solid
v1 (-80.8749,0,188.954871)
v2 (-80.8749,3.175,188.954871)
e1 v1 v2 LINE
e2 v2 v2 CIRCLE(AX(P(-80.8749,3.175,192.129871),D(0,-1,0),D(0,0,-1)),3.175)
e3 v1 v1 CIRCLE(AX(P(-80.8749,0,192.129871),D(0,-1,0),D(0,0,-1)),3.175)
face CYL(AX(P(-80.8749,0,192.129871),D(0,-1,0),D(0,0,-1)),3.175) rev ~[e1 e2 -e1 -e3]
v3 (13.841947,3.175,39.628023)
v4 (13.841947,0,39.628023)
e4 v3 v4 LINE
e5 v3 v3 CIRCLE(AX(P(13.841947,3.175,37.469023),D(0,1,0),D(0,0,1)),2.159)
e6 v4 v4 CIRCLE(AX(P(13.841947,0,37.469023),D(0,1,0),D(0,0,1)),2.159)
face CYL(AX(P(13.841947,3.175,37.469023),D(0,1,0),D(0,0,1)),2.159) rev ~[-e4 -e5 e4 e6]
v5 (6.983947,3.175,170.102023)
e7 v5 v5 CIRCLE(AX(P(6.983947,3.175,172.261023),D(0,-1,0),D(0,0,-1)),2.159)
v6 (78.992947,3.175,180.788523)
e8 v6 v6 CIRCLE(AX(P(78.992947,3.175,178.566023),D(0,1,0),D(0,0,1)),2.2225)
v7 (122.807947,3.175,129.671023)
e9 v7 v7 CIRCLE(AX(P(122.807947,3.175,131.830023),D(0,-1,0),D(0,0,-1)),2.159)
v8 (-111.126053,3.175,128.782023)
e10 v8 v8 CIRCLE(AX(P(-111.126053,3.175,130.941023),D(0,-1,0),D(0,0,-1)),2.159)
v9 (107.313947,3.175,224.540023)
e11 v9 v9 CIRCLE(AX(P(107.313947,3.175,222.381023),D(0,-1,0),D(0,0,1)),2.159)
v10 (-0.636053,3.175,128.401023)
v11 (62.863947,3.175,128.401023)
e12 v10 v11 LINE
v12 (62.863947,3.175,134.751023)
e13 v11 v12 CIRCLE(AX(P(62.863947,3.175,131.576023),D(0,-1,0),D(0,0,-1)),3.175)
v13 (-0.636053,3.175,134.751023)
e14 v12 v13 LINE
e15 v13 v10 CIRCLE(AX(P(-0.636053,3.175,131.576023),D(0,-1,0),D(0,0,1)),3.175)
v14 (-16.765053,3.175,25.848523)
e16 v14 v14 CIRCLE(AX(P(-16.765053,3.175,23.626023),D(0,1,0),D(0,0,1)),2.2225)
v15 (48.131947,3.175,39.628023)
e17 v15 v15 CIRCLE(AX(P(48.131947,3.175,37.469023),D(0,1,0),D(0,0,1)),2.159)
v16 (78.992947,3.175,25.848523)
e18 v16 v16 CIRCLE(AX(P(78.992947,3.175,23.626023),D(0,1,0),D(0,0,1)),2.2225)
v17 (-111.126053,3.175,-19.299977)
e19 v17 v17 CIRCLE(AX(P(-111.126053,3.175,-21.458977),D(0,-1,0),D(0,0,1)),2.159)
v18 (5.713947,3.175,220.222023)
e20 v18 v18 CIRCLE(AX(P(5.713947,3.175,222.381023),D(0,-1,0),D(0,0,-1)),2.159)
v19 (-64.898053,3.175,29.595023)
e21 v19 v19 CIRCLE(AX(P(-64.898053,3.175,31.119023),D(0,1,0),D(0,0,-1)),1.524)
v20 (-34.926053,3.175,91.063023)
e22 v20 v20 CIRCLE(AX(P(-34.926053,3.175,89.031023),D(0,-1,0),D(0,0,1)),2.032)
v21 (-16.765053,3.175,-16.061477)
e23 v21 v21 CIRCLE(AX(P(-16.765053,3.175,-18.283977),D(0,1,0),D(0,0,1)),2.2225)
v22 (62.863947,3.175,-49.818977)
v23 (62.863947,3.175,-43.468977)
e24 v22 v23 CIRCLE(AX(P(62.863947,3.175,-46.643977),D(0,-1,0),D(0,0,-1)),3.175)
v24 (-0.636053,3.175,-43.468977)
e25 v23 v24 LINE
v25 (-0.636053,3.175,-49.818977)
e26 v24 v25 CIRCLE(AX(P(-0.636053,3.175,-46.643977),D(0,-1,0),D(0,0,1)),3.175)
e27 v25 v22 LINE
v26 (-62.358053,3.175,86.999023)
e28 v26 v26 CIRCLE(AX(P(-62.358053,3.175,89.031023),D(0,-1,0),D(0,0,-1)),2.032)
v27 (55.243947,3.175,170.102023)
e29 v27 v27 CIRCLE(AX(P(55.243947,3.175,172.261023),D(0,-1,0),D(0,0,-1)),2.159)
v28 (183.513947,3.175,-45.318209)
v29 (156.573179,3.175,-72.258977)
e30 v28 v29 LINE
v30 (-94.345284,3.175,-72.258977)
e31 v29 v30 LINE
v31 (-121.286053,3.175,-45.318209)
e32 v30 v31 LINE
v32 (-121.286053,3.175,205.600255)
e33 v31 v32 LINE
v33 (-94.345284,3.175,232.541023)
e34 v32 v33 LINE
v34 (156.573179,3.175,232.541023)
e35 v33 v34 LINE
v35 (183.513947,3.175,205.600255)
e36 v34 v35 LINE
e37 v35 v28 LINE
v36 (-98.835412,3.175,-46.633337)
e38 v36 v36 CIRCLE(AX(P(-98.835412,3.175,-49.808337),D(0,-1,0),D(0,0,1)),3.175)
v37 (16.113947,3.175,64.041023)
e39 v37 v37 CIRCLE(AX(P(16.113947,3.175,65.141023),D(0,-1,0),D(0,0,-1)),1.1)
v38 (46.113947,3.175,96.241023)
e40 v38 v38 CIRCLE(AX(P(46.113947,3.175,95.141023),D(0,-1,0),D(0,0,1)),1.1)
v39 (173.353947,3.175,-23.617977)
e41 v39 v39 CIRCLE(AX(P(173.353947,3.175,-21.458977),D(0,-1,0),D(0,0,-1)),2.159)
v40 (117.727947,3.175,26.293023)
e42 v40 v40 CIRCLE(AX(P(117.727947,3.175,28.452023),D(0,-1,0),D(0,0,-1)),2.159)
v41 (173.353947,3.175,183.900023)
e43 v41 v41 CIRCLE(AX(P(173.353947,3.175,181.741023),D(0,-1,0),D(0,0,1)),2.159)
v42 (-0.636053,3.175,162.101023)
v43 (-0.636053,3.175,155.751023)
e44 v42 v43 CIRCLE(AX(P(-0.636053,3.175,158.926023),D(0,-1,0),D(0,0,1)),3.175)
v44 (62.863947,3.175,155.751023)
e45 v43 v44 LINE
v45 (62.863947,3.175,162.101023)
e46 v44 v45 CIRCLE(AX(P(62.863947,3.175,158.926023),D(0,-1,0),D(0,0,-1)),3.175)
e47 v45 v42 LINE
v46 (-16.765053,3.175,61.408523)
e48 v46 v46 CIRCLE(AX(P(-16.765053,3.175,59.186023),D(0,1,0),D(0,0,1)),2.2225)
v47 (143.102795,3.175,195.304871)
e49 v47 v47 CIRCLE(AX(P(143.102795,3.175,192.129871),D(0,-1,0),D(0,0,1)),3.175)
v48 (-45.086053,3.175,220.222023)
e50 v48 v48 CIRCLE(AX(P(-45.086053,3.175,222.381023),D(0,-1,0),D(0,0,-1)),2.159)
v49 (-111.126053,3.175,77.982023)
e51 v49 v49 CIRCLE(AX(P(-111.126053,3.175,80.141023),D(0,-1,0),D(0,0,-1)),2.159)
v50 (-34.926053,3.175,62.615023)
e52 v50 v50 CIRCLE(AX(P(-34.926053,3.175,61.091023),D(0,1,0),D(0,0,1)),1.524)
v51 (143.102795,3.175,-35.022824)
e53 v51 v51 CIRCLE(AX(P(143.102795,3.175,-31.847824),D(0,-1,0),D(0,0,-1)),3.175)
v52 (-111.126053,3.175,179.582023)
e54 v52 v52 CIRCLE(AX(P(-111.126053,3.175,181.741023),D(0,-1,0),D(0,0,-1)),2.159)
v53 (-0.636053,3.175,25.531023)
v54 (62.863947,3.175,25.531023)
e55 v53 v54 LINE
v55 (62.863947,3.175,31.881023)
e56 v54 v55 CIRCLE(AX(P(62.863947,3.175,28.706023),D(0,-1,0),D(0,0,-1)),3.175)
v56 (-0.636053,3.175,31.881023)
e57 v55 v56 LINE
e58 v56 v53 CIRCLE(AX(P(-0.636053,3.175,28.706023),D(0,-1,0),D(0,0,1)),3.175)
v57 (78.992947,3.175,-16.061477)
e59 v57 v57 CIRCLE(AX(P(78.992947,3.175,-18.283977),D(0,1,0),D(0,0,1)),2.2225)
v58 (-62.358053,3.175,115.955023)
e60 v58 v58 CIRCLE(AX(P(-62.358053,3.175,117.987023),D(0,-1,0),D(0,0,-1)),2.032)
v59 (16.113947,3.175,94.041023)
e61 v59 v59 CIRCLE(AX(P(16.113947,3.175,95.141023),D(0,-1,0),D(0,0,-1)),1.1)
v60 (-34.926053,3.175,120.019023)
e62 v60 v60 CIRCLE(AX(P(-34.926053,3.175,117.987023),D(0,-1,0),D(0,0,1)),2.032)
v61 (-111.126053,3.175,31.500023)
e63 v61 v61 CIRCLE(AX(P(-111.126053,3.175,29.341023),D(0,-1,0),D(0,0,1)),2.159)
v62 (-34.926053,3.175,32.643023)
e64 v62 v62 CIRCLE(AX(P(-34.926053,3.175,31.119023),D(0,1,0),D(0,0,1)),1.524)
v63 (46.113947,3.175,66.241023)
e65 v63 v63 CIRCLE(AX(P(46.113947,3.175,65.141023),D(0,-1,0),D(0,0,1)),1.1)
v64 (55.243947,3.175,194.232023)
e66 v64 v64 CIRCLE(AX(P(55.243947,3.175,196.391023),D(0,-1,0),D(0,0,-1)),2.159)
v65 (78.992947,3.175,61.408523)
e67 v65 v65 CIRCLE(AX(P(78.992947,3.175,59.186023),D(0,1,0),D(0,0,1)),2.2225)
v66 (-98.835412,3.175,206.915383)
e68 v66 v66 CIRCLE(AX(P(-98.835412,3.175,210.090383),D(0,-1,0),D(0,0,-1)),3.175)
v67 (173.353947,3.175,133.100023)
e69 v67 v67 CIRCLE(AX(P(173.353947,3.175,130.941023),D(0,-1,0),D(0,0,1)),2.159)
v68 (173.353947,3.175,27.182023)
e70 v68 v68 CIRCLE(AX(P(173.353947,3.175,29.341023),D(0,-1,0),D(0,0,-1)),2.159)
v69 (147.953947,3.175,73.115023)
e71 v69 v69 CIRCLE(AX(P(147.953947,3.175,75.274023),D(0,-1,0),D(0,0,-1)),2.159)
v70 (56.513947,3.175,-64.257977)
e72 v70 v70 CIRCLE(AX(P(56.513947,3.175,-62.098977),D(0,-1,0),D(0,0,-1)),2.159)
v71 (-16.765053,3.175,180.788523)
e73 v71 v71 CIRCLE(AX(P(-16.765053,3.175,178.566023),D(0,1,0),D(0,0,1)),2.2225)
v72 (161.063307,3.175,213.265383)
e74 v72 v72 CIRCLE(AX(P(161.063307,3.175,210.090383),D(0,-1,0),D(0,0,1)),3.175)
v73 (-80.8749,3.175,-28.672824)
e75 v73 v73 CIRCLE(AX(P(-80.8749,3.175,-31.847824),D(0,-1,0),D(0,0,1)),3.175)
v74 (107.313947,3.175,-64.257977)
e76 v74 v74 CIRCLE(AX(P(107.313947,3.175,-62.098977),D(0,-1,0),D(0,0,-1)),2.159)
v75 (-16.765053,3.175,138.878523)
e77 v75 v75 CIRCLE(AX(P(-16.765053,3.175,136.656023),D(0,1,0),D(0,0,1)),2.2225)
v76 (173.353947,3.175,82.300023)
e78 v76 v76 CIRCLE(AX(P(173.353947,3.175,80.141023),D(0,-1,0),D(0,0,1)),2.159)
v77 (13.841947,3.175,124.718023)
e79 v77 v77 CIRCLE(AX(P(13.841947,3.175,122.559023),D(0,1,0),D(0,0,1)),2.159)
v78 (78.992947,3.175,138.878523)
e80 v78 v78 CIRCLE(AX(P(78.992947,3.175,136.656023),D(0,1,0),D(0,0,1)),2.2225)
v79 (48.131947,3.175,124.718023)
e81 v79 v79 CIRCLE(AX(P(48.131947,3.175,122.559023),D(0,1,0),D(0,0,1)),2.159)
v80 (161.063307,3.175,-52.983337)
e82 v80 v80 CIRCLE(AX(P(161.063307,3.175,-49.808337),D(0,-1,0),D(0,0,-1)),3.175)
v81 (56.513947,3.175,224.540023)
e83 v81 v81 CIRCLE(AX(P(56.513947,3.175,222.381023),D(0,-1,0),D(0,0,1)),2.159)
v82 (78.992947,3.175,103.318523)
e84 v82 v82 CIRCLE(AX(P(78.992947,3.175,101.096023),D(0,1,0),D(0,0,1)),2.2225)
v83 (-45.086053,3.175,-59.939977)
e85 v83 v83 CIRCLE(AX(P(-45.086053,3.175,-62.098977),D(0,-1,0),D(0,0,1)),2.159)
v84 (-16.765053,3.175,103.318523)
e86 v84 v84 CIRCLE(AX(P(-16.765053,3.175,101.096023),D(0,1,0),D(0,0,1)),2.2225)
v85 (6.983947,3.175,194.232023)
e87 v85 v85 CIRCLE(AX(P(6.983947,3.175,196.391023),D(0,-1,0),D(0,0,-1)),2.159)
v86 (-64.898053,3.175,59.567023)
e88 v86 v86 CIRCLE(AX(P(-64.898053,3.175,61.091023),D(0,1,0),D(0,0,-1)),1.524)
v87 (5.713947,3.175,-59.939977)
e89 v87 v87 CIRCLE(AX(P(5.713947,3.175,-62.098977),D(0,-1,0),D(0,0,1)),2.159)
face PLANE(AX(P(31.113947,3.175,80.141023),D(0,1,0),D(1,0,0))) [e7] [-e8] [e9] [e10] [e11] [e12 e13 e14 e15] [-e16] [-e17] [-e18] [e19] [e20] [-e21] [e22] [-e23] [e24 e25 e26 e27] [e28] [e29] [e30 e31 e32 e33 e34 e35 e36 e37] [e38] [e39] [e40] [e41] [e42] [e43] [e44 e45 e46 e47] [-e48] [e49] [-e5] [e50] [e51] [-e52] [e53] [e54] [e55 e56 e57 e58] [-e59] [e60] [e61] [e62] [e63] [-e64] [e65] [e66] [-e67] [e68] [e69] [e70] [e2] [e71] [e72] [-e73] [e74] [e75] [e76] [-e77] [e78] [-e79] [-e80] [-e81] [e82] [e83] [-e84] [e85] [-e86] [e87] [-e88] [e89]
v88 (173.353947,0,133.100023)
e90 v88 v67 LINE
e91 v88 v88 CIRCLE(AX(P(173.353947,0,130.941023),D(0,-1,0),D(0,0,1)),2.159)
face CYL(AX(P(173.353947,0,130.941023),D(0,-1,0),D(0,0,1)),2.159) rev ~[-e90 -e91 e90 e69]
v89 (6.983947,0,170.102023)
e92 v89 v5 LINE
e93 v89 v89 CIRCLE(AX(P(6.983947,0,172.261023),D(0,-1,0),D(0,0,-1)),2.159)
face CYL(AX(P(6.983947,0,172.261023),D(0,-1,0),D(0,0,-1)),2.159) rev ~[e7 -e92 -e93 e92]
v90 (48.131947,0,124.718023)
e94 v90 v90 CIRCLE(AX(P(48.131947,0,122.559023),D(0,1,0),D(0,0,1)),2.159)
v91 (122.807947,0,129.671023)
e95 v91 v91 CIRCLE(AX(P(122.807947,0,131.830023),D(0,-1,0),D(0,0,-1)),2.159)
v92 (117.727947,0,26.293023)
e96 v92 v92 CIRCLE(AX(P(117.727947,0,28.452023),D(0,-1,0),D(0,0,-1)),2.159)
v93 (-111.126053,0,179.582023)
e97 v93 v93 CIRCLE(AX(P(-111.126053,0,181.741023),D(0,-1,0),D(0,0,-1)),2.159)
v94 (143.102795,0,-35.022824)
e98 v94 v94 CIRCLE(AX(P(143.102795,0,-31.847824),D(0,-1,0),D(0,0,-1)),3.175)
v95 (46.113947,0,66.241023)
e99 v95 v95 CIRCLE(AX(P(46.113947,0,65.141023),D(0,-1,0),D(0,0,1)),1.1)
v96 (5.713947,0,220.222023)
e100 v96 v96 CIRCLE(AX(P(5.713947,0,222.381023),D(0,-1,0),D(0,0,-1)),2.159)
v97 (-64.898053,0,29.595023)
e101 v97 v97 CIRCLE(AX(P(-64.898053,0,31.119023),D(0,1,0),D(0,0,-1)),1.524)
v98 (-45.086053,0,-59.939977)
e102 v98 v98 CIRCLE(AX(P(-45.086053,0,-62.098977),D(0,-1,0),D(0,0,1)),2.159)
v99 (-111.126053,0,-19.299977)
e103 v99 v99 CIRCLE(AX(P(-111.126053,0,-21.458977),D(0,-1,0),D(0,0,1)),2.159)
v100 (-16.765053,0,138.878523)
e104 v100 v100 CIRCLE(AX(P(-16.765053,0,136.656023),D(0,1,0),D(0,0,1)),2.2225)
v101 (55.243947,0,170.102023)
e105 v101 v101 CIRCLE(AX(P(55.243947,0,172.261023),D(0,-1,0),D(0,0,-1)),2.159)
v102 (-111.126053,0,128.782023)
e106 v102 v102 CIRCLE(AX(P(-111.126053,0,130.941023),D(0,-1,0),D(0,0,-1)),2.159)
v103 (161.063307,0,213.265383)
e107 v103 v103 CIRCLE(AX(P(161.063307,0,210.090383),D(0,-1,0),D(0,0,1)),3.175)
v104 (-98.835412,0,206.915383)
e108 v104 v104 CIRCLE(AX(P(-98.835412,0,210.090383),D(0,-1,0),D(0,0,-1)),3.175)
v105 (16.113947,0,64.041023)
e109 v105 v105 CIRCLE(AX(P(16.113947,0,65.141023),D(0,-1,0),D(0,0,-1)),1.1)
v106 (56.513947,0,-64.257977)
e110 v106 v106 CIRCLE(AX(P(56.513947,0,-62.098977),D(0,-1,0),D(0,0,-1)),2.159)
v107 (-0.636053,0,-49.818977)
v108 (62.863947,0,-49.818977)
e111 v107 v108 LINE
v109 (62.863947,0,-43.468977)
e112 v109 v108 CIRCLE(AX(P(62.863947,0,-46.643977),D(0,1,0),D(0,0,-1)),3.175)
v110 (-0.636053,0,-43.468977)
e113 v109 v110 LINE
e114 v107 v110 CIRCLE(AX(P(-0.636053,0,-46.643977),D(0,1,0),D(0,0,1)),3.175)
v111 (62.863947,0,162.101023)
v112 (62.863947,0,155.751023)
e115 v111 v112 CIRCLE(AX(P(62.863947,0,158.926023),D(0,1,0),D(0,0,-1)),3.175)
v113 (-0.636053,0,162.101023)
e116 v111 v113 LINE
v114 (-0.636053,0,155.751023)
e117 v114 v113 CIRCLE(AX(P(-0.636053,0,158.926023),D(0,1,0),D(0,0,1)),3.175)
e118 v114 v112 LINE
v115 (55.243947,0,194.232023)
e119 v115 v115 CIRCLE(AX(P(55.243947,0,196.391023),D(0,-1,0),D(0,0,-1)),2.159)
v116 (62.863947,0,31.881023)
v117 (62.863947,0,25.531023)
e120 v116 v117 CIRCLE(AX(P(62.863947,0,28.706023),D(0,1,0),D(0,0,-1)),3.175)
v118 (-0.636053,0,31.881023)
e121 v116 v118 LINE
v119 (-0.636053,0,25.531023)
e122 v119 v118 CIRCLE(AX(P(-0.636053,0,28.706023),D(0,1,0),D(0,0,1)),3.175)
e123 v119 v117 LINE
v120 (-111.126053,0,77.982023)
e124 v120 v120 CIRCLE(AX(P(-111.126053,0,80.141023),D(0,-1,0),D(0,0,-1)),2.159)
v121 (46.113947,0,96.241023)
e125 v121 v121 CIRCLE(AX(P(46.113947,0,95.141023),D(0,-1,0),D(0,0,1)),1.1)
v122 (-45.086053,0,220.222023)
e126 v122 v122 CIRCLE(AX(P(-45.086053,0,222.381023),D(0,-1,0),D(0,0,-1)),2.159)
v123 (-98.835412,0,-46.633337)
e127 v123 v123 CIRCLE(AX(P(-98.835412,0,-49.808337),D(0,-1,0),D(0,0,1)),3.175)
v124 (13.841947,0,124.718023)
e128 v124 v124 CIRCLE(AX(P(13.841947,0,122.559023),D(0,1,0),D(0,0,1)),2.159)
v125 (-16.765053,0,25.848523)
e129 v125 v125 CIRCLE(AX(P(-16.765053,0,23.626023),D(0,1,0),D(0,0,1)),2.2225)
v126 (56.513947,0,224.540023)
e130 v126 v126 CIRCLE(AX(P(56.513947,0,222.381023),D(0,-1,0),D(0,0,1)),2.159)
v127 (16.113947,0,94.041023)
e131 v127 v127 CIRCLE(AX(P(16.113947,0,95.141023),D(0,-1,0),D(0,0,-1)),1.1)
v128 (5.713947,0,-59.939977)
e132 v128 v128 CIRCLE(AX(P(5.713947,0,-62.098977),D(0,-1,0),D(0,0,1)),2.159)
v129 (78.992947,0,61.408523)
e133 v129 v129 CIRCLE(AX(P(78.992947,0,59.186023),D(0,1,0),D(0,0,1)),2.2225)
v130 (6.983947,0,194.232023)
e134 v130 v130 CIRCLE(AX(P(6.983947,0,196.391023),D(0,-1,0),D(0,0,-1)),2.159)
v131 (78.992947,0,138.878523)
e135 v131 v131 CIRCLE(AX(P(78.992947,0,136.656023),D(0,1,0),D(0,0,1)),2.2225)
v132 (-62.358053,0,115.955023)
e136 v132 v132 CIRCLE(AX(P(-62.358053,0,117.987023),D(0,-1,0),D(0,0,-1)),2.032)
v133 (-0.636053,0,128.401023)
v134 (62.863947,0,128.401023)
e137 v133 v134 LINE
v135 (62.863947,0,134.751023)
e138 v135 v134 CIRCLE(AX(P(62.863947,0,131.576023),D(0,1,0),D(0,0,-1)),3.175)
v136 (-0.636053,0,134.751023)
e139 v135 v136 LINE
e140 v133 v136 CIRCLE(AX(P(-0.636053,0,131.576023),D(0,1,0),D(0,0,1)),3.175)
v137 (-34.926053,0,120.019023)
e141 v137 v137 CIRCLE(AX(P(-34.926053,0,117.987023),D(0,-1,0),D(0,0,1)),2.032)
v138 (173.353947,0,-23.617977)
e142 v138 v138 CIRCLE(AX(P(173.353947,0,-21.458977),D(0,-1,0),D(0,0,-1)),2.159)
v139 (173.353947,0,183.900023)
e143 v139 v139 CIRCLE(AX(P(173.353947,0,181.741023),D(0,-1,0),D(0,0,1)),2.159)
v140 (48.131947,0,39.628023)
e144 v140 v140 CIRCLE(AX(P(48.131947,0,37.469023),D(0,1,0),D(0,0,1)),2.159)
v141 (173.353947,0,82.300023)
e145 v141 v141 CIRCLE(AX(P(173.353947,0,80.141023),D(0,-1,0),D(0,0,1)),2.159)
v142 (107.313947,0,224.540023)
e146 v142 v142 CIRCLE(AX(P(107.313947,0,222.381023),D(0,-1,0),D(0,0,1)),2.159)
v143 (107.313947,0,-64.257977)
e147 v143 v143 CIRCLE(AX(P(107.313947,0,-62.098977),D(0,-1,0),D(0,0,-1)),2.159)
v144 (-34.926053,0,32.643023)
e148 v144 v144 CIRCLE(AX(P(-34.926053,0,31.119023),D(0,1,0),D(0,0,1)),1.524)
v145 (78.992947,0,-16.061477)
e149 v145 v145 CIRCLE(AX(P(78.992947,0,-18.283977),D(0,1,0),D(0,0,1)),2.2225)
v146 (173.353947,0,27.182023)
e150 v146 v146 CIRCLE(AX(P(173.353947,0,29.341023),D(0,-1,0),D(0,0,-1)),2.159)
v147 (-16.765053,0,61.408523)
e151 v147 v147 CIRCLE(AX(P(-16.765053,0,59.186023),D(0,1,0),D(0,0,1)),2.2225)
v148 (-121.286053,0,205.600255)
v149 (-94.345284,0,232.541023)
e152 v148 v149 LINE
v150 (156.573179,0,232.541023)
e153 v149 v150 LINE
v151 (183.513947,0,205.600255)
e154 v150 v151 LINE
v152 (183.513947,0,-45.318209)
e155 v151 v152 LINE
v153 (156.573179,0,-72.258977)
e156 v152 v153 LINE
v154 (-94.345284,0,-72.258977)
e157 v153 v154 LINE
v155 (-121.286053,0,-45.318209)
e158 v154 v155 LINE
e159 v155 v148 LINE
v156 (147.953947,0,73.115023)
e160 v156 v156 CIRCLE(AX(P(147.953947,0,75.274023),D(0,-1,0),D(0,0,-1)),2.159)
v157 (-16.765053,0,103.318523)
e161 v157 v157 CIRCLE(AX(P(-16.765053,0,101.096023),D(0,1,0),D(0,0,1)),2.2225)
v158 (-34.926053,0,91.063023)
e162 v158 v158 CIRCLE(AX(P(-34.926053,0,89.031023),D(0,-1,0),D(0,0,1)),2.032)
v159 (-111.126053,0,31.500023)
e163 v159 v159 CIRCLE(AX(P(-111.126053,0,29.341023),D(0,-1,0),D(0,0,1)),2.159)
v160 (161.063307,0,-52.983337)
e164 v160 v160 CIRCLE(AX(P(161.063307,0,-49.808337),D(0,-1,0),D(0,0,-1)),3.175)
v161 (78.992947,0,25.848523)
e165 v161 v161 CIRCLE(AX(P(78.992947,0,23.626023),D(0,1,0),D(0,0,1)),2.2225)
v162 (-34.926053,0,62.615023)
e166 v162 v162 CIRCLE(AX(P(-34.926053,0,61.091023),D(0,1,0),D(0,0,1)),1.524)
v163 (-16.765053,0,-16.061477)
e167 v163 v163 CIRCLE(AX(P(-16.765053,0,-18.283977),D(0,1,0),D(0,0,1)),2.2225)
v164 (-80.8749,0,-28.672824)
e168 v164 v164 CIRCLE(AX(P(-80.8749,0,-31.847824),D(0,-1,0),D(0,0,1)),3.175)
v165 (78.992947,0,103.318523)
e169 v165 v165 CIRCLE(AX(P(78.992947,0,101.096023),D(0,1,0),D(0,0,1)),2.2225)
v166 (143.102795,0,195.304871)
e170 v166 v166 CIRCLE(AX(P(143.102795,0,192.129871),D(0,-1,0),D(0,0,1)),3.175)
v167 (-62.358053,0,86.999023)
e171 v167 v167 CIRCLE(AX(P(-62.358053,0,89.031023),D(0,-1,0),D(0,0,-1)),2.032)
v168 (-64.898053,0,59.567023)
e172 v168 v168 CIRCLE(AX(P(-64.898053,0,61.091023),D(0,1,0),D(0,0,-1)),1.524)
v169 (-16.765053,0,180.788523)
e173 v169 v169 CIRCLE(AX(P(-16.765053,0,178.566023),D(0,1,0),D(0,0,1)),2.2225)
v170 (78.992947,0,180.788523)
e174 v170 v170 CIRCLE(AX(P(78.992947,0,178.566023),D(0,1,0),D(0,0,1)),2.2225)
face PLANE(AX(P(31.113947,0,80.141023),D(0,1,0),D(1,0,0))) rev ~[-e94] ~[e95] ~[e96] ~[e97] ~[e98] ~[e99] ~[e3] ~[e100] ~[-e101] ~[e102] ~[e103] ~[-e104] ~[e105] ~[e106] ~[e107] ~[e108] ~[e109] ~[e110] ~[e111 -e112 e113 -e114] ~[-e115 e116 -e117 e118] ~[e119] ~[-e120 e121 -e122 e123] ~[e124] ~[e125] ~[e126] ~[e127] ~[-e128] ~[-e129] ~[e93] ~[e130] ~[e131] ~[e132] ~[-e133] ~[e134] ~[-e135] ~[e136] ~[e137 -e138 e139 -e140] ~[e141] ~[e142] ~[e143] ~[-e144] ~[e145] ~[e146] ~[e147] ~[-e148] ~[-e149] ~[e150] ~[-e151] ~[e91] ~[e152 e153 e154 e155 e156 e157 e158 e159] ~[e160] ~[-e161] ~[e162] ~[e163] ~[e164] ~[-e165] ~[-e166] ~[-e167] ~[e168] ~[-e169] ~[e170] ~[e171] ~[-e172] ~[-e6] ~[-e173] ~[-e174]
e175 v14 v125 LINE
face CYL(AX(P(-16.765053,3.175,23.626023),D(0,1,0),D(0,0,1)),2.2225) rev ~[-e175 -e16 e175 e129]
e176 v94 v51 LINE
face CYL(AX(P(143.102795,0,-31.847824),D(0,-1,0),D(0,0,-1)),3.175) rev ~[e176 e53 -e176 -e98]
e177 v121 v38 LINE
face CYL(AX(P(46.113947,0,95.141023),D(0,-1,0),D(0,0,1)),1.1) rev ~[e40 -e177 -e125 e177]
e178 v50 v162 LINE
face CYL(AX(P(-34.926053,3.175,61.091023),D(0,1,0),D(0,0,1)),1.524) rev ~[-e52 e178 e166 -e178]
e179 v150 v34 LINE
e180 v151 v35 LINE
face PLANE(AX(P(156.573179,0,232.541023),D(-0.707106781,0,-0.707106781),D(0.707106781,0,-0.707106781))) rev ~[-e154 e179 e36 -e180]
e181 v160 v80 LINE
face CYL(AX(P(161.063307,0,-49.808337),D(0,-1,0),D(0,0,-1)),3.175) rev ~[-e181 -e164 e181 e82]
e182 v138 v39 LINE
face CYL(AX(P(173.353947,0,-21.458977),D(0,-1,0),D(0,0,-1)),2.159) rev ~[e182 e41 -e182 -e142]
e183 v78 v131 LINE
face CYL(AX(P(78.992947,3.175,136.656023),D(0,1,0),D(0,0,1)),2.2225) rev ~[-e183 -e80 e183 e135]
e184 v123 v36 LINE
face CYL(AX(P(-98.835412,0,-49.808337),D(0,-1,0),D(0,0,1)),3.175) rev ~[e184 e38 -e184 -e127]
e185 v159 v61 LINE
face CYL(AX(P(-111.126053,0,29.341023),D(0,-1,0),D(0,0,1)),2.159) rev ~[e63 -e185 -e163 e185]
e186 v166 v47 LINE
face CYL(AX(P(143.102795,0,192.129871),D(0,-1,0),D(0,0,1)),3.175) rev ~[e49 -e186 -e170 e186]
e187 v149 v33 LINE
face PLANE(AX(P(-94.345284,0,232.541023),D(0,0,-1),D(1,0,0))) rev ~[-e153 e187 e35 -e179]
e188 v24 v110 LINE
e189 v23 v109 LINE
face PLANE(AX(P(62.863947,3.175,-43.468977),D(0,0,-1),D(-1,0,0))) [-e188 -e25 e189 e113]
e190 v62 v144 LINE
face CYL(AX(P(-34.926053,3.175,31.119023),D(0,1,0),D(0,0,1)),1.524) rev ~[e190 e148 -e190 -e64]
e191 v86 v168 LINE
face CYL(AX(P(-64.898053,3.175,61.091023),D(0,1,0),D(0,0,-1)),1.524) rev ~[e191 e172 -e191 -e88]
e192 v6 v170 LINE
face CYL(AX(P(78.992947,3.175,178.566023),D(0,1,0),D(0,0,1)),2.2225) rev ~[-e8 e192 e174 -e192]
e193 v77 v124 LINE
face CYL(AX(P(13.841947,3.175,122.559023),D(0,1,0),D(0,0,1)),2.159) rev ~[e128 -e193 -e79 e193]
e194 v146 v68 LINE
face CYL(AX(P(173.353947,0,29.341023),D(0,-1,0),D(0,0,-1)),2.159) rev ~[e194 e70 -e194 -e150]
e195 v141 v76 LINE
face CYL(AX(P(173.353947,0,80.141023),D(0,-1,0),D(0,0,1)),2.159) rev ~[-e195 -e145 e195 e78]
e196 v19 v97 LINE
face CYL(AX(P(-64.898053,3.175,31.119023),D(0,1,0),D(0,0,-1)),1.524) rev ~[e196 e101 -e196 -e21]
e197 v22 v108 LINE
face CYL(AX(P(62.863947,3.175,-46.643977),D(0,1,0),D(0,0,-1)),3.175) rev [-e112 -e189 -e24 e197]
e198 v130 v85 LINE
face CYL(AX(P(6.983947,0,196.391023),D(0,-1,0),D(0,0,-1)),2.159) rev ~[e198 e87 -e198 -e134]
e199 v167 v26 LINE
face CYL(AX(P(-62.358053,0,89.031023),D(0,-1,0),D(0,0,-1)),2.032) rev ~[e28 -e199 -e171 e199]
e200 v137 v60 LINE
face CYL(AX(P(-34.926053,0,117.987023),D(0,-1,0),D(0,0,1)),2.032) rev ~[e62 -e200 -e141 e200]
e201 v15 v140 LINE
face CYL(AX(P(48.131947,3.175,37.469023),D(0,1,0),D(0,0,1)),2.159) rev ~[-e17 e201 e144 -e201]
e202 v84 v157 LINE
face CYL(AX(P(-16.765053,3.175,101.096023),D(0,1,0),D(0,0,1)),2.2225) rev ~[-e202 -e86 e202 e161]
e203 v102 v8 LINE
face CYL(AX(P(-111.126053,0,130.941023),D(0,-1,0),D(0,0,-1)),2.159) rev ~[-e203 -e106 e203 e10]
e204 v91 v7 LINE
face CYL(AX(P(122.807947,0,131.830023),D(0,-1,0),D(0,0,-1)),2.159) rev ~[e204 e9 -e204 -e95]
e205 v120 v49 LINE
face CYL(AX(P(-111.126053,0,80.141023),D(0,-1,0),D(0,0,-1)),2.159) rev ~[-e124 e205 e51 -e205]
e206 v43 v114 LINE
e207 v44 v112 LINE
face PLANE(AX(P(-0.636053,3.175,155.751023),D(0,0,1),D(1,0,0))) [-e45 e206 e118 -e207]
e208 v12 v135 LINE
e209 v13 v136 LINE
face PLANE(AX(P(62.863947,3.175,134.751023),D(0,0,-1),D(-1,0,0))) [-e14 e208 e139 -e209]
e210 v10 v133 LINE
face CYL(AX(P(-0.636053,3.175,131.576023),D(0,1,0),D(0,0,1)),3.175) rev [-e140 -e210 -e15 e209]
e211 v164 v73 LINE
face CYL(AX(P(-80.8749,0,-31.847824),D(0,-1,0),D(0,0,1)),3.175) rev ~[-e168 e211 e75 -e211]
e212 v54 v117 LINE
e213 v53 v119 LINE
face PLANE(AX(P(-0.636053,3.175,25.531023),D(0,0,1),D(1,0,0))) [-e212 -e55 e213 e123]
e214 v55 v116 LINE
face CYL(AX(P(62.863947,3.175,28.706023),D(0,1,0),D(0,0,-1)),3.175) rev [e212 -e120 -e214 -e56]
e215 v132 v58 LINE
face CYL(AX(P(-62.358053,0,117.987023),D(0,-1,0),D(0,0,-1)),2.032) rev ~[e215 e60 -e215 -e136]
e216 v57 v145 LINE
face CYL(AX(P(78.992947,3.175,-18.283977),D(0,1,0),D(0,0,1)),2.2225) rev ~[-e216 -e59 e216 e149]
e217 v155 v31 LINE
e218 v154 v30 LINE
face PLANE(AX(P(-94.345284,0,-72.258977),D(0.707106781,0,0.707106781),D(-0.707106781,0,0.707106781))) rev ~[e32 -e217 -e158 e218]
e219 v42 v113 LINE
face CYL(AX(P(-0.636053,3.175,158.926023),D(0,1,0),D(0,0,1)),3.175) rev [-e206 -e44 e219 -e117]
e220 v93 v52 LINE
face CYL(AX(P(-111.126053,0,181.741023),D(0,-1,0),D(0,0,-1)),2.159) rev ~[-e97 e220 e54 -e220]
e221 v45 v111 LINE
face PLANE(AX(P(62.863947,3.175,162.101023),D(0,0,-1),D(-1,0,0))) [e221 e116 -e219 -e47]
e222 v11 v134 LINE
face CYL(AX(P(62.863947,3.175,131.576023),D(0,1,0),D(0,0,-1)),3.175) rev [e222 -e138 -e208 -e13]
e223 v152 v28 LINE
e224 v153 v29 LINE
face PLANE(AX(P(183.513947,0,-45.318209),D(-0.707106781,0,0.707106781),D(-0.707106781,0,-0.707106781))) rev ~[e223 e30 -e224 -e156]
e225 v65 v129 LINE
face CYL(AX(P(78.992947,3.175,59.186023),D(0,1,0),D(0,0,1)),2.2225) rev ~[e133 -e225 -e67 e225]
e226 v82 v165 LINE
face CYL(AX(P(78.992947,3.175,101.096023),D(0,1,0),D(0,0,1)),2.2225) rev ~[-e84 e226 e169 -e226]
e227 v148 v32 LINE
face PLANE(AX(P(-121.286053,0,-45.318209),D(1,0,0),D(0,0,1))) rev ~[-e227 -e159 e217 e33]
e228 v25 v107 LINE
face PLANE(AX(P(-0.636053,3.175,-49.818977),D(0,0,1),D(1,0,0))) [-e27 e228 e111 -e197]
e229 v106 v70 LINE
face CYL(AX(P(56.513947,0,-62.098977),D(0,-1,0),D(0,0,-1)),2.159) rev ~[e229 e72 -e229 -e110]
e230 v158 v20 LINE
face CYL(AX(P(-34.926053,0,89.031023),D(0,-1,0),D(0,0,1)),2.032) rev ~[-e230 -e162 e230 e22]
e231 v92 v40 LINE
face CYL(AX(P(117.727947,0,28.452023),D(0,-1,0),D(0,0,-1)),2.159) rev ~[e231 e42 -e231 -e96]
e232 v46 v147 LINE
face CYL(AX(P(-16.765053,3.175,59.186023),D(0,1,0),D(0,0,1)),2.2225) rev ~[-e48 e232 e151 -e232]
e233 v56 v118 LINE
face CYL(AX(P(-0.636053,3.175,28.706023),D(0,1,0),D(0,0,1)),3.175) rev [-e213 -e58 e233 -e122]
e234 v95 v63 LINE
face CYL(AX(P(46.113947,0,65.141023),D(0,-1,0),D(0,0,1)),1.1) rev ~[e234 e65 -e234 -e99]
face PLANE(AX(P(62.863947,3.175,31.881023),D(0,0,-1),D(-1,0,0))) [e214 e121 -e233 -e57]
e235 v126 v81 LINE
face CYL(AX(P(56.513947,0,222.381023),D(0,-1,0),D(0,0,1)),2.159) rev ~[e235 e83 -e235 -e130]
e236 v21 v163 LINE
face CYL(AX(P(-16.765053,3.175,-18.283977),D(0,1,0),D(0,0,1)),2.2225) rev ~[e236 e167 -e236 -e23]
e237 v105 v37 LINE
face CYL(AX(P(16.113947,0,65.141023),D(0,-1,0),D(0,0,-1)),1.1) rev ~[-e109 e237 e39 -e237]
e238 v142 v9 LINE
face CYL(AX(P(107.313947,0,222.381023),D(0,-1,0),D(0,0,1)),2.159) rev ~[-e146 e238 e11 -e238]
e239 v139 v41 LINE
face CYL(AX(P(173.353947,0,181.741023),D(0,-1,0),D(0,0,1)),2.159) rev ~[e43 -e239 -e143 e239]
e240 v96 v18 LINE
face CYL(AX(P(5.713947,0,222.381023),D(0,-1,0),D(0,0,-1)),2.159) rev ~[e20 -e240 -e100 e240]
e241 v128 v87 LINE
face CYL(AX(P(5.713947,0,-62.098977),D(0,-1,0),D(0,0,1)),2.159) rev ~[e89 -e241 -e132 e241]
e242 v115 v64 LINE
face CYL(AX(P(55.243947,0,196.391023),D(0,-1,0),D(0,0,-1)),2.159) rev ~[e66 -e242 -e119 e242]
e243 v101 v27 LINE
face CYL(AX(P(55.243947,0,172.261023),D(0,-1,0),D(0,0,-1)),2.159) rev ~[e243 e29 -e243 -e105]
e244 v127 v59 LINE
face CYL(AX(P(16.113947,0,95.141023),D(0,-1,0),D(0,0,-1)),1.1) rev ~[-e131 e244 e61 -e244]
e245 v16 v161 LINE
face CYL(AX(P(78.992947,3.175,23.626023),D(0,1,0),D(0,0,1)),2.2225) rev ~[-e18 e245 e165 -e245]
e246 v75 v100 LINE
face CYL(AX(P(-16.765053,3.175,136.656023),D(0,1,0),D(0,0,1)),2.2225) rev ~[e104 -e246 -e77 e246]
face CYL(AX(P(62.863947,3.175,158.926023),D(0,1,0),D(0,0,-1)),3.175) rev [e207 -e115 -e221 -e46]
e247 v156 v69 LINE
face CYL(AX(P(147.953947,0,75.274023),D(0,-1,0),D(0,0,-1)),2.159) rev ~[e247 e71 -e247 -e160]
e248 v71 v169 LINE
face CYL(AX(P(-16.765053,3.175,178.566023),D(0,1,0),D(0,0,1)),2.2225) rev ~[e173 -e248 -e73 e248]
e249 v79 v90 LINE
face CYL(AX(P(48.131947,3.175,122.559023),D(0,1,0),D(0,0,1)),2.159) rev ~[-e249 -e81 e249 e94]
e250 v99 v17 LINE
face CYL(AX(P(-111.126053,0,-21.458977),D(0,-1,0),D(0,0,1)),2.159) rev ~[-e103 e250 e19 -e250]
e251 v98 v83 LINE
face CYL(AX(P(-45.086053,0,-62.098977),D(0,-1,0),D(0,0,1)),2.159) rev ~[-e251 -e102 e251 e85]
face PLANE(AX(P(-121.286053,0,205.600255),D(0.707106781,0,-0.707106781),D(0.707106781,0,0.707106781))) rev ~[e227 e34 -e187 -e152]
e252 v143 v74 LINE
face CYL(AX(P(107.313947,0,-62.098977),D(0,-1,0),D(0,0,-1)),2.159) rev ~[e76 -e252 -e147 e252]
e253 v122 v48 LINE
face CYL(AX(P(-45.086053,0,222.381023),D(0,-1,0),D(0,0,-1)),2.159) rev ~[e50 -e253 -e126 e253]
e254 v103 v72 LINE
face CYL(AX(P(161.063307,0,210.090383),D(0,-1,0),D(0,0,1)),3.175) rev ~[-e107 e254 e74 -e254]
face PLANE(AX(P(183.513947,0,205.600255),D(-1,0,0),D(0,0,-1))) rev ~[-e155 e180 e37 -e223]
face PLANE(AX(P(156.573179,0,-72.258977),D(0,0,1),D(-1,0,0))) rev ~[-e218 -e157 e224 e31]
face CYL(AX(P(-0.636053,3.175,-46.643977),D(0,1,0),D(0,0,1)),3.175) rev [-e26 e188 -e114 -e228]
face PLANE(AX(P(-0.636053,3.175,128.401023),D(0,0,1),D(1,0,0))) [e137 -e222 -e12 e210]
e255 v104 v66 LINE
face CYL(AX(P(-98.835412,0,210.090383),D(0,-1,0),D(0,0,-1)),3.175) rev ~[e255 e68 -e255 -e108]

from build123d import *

# Parameters (mm, degrees)
BOSS_EXTRUDE1_DEPTH = 3.175
SKETCH2_R           = 2.159
CUT_EXTRUDE1_DEPTH  = 297.247830215
CUT_EXTRUDE2_DEPTH  = 297.247830215
SKETCH7_R           = 1.524
CUT_EXTRUDE3_DEPTH  = 297.247830215
SKETCH10_R          = 2.159
CUT_EXTRUDE6_DEPTH  = 297.247830215
SKETCH9_R           = 2.032
CUT_EXTRUDE5_DEPTH  = 297.247830215
SKETCH13_R          = 1.1
CUT_EXTRUDE8_DEPTH  = 297.247830215
SKETCH14_R          = 3.175
CUT_EXTRUDE9_DEPTH  = 297.247830215
SKETCH15_R          = 2.159
CUT_EXTRUDE10_DEPTH = 297.247830215
SKETCH16_R          = 2.159
CUT_EXTRUDE11_DEPTH = 297.247830215
SKETCH17_R          = 2.2225
CUT_EXTRUDE13_DEPTH = 297.247830215


with BuildPart() as part:
    # Sketch1 → Boss-Extrude1 (new body)
    with BuildSketch(Plane(origin=(0, 0, 0), x_dir=(1, 0, 0), z_dir=(0, 1, 0))):
        Polygon((-94.345284264, 72.258976948), (-121.286052627, 45.318208585), (-121.286052627, -205.600254688), (-94.345284264, -232.541023052), (156.573179009, -232.541023052), (183.513947373, -205.600254688), (183.513947373, 45.318208585), (156.573179009, 72.258976948), align=None)
    extrude(amount=BOSS_EXTRUDE1_DEPTH)

    # Sketch2 → Cut-Extrude1 (cut, through all)
    with BuildSketch(Plane(origin=(0, 3.175, 0), x_dir=(1, 0, 0), z_dir=(0, 1, 0))):
        with Locations(Location((13.841947373, -37.469023052, 0), (0, 0, 270))):
            Circle(SKETCH2_R)
        with Locations(Location((48.131947373, -37.469023052, 0), (0, 0, 270))):
            Circle(SKETCH2_R)
        with Locations(Location((13.841947373, -122.559023052, 0), (0, 0, 270))):
            Circle(SKETCH2_R)
        with Locations(Location((48.131947373, -122.559023052, 0), (0, 0, 270))):
            Circle(SKETCH2_R)
    extrude(amount=-CUT_EXTRUDE1_DEPTH, mode=Mode.SUBTRACT)

    # Sketch4 → Cut-Extrude2 (cut, through all)
    with BuildSketch(Plane(origin=(0, 3.175, 0), x_dir=(1, 0, 0), z_dir=(0, 1, 0))):
        with BuildLine():
            Line((-0.636052627, 49.818976948), (62.863947373, 49.818976948))
            ThreePointArc((62.863947373, 49.818976948), (66.038947373, 46.643976948), (62.863947373, 43.468976948))
            Line((62.863947373, 43.468976948), (-0.636052627, 43.468976948))
            ThreePointArc((-0.636052627, 43.468976948), (-3.811052627, 46.643976948), (-0.636052627, 49.818976948))
        make_face()
        with BuildLine():
            Line((-0.636052627, -25.531023052), (62.863947373, -25.531023052))
            ThreePointArc((62.863947373, -25.531023052), (66.038947373, -28.706023052), (62.863947373, -31.881023052))
            Line((62.863947373, -31.881023052), (-0.636052627, -31.881023052))
            ThreePointArc((-0.636052627, -31.881023052), (-3.811052627, -28.706023052), (-0.636052627, -25.531023052))
        make_face()
        with BuildLine():
            Line((-0.636052627, -128.401023052), (62.863947373, -128.401023052))
            ThreePointArc((62.863947373, -128.401023052), (66.038947373, -131.576023052), (62.863947373, -134.751023052))
            Line((62.863947373, -134.751023052), (-0.636052627, -134.751023052))
            ThreePointArc((-0.636052627, -134.751023052), (-3.811052627, -131.576023052), (-0.636052627, -128.401023052))
        make_face()
        with BuildLine():
            Line((-0.636052627, -155.751023052), (62.863947373, -155.751023052))
            ThreePointArc((62.863947373, -155.751023052), (66.038947373, -158.926023052), (62.863947373, -162.101023052))
            Line((62.863947373, -162.101023052), (-0.636052627, -162.101023052))
            ThreePointArc((-0.636052627, -162.101023052), (-3.811052627, -158.926023052), (-0.636052627, -155.751023052))
        make_face()
    extrude(amount=-CUT_EXTRUDE2_DEPTH, mode=Mode.SUBTRACT)

    # Sketch7 → Cut-Extrude3 (cut, through all)
    with BuildSketch(Plane(origin=(0, 3.175, 0), x_dir=(1, 0, 0), z_dir=(0, 1, 0))):
        with Locations(Location((-34.926052627, -31.119023052, 0), (0, 0, 270))):
            Circle(SKETCH7_R)
        with Locations(Location((-34.926052627, -61.091023052, 0), (0, 0, 270))):
            Circle(SKETCH7_R)
        with Locations(Location((-64.898052627, -61.091023052, 0), (0, 0, 90))):
            Circle(SKETCH7_R)
        with Locations(Location((-64.898052627, -31.119023052, 0), (0, 0, 90))):
            Circle(SKETCH7_R)
    extrude(amount=-CUT_EXTRUDE3_DEPTH, mode=Mode.SUBTRACT)

    # Sketch10 → Cut-Extrude6 (cut, through all)
    with BuildSketch(Plane.XZ):
        with Locations(Location((6.983947373, 196.391023052, 0), (0, 0, 270))):
            Circle(SKETCH10_R)
        with Locations(Location((55.243947373, 196.391023052, 0), (0, 0, 270))):
            Circle(SKETCH10_R)
        with Locations(Location((6.983947373, 172.261023052, 0), (0, 0, 270))):
            Circle(SKETCH10_R)
        with Locations(Location((55.243947373, 172.261023052, 0), (0, 0, 270))):
            Circle(SKETCH10_R)
    extrude(amount=-CUT_EXTRUDE6_DEPTH, mode=Mode.SUBTRACT)

    # Sketch9 → Cut-Extrude5 (cut, through all)
    with BuildSketch(Plane(origin=(0, 0, 0), x_dir=(-1, 0, 0), z_dir=(0, -1, 0))):
        with Locations(Location((62.358052627, -117.987023052, 0), (0, 0, 90))):
            Circle(SKETCH9_R)
        with Locations(Location((34.926052627, -117.987023052, 0), (0, 0, 270))):
            Circle(SKETCH9_R)
        with Locations(Location((62.358052627, -89.031023052, 0), (0, 0, 90))):
            Circle(SKETCH9_R)
        with Locations(Location((34.926052627, -89.031023052, 0), (0, 0, 270))):
            Circle(SKETCH9_R)
    extrude(amount=-CUT_EXTRUDE5_DEPTH, mode=Mode.SUBTRACT)

    # Sketch13 → Cut-Extrude8 (cut, through all)
    with BuildSketch(Plane.XZ):
        with Locations(Location((16.113947373, 95.141023052, 0), (0, 0, 270))):
            Circle(SKETCH13_R)
        with Locations(Location((16.113947373, 65.141023052, 0), (0, 0, 270))):
            Circle(SKETCH13_R)
        with Locations(Location((46.113947373, 65.141023052, 0), (0, 0, 90))):
            Circle(SKETCH13_R)
        with Locations(Location((46.113947373, 95.141023052, 0), (0, 0, 90))):
            Circle(SKETCH13_R)
    extrude(amount=-CUT_EXTRUDE8_DEPTH, mode=Mode.SUBTRACT)

    # Sketch14 → Cut-Extrude9 (cut, through all)
    with BuildSketch(Plane.XZ):
        with Locations(Location((-98.835412325, 210.090382749, 0), (0, 0, 270))):
            Circle(SKETCH14_R)
        with Locations(Location((-80.874900083, 192.129870507, 0), (0, 0, 270))):
            Circle(SKETCH14_R)
        with Locations(Location((143.102794828, 192.129870507, 0), (0, 0, 90))):
            Circle(SKETCH14_R)
        with Locations(Location((161.06330707, 210.090382749, 0), (0, 0, 90))):
            Circle(SKETCH14_R)
        with Locations(Location((-98.835412325, -49.808336646, 0), (0, 0, 90))):
            Circle(SKETCH14_R)
        with Locations(Location((-80.874900083, -31.847824404, 0), (0, 0, 90))):
            Circle(SKETCH14_R)
        with Locations(Location((161.06330707, -49.808336646, 0), (0, 0, 270))):
            Circle(SKETCH14_R)
        with Locations(Location((143.102794828, -31.847824404, 0), (0, 0, 270))):
            Circle(SKETCH14_R)
    extrude(amount=-CUT_EXTRUDE9_DEPTH, mode=Mode.SUBTRACT)

    # Sketch15 → Cut-Extrude10 (cut, through all)
    with BuildSketch(Plane.XZ):
        with Locations(Location((5.713947373, 222.381023052, 0), (0, 0, 270))):
            Circle(SKETCH15_R)
        with Locations(Location((-45.086052627, 222.381023052, 0), (0, 0, 270))):
            Circle(SKETCH15_R)
        with Locations(Location((-111.126052627, 80.141023052, 0), (0, 0, 270))):
            Circle(SKETCH15_R)
        with Locations(Location((-111.126052627, 130.941023052, 0), (0, 0, 270))):
            Circle(SKETCH15_R)
        with Locations(Location((-111.126052627, 181.741023052, 0), (0, 0, 270))):
            Circle(SKETCH15_R)
        with Locations(Location((173.353947373, 181.741023052, 0), (0, 0, 90))):
            Circle(SKETCH15_R)
        with Locations(Location((173.353947373, 130.941023052, 0), (0, 0, 90))):
            Circle(SKETCH15_R)
        with Locations(Location((173.353947373, 80.141023052, 0), (0, 0, 90))):
            Circle(SKETCH15_R)
        with Locations(Location((107.313947373, 222.381023052, 0), (0, 0, 90))):
            Circle(SKETCH15_R)
        with Locations(Location((56.513947373, 222.381023052, 0), (0, 0, 90))):
            Circle(SKETCH15_R)
        with Locations(Location((56.513947373, -62.098976948, 0), (0, 0, 270))):
            Circle(SKETCH15_R)
        with Locations(Location((107.313947373, -62.098976948, 0), (0, 0, 270))):
            Circle(SKETCH15_R)
        with Locations(Location((173.353947373, 29.341023052, 0), (0, 0, 270))):
            Circle(SKETCH15_R)
        with Locations(Location((173.353947373, -21.458976948, 0), (0, 0, 270))):
            Circle(SKETCH15_R)
        with Locations(Location((-111.126052627, -21.458976948, 0), (0, 0, 90))):
            Circle(SKETCH15_R)
        with Locations(Location((-111.126052627, 29.341023052, 0), (0, 0, 90))):
            Circle(SKETCH15_R)
        with Locations(Location((-45.086052627, -62.098976948, 0), (0, 0, 90))):
            Circle(SKETCH15_R)
        with Locations(Location((5.713947373, -62.098976948, 0), (0, 0, 90))):
            Circle(SKETCH15_R)
    extrude(amount=-CUT_EXTRUDE10_DEPTH, mode=Mode.SUBTRACT)

    # Sketch16 → Cut-Extrude11 (cut, through all)
    with BuildSketch(Plane(origin=(0, 0, 0), x_dir=(-1, 0, 0), z_dir=(0, -1, 0))):
        with Locations(Location((-122.807947373, -131.830023052, 0), (0, 0, 90))):
            Circle(SKETCH16_R)
        with Locations(Location((-117.727947373, -28.452023052, 0), (0, 0, 90))):
            Circle(SKETCH16_R)
        with Locations(Location((-147.953947373, -75.274023052, 0), (0, 0, 90))):
            Circle(SKETCH16_R)
    extrude(amount=-CUT_EXTRUDE11_DEPTH, mode=Mode.SUBTRACT)

    # Sketch17 → Cut-Extrude13 (cut, through all)
    with BuildSketch(Plane(origin=(0, 3.175, 0), x_dir=(1, 0, 0), z_dir=(0, 1, 0))):
        with Locations(Location((78.992947373, -178.566023052, 0), (0, 0, 270))):
            Circle(SKETCH17_R)
        with Locations(Location((-16.765052627, -178.566023052, 0), (0, 0, 270))):
            Circle(SKETCH17_R)
        with Locations(Location((78.992947373, -136.656023052, 0), (0, 0, 270))):
            Circle(SKETCH17_R)
        with Locations(Location((-16.765052627, -136.656023052, 0), (0, 0, 270))):
            Circle(SKETCH17_R)
        with Locations(Location((78.992947373, -101.096023052, 0), (0, 0, 270))):
            Circle(SKETCH17_R)
        with Locations(Location((-16.765052627, -101.096023052, 0), (0, 0, 270))):
            Circle(SKETCH17_R)
        with Locations(Location((78.992947373, -59.186023052, 0), (0, 0, 270))):
            Circle(SKETCH17_R)
        with Locations(Location((-16.765052627, -59.186023052, 0), (0, 0, 270))):
            Circle(SKETCH17_R)
        with Locations(Location((78.992947373, -23.626023052, 0), (0, 0, 270))):
            Circle(SKETCH17_R)
        with Locations(Location((-16.765052627, -23.626023052, 0), (0, 0, 270))):
            Circle(SKETCH17_R)
        with Locations(Location((78.992947373, 18.283976948, 0), (0, 0, 270))):
            Circle(SKETCH17_R)
        with Locations(Location((-16.765052627, 18.283976948, 0), (0, 0, 270))):
            Circle(SKETCH17_R)
    extrude(amount=-CUT_EXTRUDE13_DEPTH, mode=Mode.SUBTRACT)


solid = part.part
